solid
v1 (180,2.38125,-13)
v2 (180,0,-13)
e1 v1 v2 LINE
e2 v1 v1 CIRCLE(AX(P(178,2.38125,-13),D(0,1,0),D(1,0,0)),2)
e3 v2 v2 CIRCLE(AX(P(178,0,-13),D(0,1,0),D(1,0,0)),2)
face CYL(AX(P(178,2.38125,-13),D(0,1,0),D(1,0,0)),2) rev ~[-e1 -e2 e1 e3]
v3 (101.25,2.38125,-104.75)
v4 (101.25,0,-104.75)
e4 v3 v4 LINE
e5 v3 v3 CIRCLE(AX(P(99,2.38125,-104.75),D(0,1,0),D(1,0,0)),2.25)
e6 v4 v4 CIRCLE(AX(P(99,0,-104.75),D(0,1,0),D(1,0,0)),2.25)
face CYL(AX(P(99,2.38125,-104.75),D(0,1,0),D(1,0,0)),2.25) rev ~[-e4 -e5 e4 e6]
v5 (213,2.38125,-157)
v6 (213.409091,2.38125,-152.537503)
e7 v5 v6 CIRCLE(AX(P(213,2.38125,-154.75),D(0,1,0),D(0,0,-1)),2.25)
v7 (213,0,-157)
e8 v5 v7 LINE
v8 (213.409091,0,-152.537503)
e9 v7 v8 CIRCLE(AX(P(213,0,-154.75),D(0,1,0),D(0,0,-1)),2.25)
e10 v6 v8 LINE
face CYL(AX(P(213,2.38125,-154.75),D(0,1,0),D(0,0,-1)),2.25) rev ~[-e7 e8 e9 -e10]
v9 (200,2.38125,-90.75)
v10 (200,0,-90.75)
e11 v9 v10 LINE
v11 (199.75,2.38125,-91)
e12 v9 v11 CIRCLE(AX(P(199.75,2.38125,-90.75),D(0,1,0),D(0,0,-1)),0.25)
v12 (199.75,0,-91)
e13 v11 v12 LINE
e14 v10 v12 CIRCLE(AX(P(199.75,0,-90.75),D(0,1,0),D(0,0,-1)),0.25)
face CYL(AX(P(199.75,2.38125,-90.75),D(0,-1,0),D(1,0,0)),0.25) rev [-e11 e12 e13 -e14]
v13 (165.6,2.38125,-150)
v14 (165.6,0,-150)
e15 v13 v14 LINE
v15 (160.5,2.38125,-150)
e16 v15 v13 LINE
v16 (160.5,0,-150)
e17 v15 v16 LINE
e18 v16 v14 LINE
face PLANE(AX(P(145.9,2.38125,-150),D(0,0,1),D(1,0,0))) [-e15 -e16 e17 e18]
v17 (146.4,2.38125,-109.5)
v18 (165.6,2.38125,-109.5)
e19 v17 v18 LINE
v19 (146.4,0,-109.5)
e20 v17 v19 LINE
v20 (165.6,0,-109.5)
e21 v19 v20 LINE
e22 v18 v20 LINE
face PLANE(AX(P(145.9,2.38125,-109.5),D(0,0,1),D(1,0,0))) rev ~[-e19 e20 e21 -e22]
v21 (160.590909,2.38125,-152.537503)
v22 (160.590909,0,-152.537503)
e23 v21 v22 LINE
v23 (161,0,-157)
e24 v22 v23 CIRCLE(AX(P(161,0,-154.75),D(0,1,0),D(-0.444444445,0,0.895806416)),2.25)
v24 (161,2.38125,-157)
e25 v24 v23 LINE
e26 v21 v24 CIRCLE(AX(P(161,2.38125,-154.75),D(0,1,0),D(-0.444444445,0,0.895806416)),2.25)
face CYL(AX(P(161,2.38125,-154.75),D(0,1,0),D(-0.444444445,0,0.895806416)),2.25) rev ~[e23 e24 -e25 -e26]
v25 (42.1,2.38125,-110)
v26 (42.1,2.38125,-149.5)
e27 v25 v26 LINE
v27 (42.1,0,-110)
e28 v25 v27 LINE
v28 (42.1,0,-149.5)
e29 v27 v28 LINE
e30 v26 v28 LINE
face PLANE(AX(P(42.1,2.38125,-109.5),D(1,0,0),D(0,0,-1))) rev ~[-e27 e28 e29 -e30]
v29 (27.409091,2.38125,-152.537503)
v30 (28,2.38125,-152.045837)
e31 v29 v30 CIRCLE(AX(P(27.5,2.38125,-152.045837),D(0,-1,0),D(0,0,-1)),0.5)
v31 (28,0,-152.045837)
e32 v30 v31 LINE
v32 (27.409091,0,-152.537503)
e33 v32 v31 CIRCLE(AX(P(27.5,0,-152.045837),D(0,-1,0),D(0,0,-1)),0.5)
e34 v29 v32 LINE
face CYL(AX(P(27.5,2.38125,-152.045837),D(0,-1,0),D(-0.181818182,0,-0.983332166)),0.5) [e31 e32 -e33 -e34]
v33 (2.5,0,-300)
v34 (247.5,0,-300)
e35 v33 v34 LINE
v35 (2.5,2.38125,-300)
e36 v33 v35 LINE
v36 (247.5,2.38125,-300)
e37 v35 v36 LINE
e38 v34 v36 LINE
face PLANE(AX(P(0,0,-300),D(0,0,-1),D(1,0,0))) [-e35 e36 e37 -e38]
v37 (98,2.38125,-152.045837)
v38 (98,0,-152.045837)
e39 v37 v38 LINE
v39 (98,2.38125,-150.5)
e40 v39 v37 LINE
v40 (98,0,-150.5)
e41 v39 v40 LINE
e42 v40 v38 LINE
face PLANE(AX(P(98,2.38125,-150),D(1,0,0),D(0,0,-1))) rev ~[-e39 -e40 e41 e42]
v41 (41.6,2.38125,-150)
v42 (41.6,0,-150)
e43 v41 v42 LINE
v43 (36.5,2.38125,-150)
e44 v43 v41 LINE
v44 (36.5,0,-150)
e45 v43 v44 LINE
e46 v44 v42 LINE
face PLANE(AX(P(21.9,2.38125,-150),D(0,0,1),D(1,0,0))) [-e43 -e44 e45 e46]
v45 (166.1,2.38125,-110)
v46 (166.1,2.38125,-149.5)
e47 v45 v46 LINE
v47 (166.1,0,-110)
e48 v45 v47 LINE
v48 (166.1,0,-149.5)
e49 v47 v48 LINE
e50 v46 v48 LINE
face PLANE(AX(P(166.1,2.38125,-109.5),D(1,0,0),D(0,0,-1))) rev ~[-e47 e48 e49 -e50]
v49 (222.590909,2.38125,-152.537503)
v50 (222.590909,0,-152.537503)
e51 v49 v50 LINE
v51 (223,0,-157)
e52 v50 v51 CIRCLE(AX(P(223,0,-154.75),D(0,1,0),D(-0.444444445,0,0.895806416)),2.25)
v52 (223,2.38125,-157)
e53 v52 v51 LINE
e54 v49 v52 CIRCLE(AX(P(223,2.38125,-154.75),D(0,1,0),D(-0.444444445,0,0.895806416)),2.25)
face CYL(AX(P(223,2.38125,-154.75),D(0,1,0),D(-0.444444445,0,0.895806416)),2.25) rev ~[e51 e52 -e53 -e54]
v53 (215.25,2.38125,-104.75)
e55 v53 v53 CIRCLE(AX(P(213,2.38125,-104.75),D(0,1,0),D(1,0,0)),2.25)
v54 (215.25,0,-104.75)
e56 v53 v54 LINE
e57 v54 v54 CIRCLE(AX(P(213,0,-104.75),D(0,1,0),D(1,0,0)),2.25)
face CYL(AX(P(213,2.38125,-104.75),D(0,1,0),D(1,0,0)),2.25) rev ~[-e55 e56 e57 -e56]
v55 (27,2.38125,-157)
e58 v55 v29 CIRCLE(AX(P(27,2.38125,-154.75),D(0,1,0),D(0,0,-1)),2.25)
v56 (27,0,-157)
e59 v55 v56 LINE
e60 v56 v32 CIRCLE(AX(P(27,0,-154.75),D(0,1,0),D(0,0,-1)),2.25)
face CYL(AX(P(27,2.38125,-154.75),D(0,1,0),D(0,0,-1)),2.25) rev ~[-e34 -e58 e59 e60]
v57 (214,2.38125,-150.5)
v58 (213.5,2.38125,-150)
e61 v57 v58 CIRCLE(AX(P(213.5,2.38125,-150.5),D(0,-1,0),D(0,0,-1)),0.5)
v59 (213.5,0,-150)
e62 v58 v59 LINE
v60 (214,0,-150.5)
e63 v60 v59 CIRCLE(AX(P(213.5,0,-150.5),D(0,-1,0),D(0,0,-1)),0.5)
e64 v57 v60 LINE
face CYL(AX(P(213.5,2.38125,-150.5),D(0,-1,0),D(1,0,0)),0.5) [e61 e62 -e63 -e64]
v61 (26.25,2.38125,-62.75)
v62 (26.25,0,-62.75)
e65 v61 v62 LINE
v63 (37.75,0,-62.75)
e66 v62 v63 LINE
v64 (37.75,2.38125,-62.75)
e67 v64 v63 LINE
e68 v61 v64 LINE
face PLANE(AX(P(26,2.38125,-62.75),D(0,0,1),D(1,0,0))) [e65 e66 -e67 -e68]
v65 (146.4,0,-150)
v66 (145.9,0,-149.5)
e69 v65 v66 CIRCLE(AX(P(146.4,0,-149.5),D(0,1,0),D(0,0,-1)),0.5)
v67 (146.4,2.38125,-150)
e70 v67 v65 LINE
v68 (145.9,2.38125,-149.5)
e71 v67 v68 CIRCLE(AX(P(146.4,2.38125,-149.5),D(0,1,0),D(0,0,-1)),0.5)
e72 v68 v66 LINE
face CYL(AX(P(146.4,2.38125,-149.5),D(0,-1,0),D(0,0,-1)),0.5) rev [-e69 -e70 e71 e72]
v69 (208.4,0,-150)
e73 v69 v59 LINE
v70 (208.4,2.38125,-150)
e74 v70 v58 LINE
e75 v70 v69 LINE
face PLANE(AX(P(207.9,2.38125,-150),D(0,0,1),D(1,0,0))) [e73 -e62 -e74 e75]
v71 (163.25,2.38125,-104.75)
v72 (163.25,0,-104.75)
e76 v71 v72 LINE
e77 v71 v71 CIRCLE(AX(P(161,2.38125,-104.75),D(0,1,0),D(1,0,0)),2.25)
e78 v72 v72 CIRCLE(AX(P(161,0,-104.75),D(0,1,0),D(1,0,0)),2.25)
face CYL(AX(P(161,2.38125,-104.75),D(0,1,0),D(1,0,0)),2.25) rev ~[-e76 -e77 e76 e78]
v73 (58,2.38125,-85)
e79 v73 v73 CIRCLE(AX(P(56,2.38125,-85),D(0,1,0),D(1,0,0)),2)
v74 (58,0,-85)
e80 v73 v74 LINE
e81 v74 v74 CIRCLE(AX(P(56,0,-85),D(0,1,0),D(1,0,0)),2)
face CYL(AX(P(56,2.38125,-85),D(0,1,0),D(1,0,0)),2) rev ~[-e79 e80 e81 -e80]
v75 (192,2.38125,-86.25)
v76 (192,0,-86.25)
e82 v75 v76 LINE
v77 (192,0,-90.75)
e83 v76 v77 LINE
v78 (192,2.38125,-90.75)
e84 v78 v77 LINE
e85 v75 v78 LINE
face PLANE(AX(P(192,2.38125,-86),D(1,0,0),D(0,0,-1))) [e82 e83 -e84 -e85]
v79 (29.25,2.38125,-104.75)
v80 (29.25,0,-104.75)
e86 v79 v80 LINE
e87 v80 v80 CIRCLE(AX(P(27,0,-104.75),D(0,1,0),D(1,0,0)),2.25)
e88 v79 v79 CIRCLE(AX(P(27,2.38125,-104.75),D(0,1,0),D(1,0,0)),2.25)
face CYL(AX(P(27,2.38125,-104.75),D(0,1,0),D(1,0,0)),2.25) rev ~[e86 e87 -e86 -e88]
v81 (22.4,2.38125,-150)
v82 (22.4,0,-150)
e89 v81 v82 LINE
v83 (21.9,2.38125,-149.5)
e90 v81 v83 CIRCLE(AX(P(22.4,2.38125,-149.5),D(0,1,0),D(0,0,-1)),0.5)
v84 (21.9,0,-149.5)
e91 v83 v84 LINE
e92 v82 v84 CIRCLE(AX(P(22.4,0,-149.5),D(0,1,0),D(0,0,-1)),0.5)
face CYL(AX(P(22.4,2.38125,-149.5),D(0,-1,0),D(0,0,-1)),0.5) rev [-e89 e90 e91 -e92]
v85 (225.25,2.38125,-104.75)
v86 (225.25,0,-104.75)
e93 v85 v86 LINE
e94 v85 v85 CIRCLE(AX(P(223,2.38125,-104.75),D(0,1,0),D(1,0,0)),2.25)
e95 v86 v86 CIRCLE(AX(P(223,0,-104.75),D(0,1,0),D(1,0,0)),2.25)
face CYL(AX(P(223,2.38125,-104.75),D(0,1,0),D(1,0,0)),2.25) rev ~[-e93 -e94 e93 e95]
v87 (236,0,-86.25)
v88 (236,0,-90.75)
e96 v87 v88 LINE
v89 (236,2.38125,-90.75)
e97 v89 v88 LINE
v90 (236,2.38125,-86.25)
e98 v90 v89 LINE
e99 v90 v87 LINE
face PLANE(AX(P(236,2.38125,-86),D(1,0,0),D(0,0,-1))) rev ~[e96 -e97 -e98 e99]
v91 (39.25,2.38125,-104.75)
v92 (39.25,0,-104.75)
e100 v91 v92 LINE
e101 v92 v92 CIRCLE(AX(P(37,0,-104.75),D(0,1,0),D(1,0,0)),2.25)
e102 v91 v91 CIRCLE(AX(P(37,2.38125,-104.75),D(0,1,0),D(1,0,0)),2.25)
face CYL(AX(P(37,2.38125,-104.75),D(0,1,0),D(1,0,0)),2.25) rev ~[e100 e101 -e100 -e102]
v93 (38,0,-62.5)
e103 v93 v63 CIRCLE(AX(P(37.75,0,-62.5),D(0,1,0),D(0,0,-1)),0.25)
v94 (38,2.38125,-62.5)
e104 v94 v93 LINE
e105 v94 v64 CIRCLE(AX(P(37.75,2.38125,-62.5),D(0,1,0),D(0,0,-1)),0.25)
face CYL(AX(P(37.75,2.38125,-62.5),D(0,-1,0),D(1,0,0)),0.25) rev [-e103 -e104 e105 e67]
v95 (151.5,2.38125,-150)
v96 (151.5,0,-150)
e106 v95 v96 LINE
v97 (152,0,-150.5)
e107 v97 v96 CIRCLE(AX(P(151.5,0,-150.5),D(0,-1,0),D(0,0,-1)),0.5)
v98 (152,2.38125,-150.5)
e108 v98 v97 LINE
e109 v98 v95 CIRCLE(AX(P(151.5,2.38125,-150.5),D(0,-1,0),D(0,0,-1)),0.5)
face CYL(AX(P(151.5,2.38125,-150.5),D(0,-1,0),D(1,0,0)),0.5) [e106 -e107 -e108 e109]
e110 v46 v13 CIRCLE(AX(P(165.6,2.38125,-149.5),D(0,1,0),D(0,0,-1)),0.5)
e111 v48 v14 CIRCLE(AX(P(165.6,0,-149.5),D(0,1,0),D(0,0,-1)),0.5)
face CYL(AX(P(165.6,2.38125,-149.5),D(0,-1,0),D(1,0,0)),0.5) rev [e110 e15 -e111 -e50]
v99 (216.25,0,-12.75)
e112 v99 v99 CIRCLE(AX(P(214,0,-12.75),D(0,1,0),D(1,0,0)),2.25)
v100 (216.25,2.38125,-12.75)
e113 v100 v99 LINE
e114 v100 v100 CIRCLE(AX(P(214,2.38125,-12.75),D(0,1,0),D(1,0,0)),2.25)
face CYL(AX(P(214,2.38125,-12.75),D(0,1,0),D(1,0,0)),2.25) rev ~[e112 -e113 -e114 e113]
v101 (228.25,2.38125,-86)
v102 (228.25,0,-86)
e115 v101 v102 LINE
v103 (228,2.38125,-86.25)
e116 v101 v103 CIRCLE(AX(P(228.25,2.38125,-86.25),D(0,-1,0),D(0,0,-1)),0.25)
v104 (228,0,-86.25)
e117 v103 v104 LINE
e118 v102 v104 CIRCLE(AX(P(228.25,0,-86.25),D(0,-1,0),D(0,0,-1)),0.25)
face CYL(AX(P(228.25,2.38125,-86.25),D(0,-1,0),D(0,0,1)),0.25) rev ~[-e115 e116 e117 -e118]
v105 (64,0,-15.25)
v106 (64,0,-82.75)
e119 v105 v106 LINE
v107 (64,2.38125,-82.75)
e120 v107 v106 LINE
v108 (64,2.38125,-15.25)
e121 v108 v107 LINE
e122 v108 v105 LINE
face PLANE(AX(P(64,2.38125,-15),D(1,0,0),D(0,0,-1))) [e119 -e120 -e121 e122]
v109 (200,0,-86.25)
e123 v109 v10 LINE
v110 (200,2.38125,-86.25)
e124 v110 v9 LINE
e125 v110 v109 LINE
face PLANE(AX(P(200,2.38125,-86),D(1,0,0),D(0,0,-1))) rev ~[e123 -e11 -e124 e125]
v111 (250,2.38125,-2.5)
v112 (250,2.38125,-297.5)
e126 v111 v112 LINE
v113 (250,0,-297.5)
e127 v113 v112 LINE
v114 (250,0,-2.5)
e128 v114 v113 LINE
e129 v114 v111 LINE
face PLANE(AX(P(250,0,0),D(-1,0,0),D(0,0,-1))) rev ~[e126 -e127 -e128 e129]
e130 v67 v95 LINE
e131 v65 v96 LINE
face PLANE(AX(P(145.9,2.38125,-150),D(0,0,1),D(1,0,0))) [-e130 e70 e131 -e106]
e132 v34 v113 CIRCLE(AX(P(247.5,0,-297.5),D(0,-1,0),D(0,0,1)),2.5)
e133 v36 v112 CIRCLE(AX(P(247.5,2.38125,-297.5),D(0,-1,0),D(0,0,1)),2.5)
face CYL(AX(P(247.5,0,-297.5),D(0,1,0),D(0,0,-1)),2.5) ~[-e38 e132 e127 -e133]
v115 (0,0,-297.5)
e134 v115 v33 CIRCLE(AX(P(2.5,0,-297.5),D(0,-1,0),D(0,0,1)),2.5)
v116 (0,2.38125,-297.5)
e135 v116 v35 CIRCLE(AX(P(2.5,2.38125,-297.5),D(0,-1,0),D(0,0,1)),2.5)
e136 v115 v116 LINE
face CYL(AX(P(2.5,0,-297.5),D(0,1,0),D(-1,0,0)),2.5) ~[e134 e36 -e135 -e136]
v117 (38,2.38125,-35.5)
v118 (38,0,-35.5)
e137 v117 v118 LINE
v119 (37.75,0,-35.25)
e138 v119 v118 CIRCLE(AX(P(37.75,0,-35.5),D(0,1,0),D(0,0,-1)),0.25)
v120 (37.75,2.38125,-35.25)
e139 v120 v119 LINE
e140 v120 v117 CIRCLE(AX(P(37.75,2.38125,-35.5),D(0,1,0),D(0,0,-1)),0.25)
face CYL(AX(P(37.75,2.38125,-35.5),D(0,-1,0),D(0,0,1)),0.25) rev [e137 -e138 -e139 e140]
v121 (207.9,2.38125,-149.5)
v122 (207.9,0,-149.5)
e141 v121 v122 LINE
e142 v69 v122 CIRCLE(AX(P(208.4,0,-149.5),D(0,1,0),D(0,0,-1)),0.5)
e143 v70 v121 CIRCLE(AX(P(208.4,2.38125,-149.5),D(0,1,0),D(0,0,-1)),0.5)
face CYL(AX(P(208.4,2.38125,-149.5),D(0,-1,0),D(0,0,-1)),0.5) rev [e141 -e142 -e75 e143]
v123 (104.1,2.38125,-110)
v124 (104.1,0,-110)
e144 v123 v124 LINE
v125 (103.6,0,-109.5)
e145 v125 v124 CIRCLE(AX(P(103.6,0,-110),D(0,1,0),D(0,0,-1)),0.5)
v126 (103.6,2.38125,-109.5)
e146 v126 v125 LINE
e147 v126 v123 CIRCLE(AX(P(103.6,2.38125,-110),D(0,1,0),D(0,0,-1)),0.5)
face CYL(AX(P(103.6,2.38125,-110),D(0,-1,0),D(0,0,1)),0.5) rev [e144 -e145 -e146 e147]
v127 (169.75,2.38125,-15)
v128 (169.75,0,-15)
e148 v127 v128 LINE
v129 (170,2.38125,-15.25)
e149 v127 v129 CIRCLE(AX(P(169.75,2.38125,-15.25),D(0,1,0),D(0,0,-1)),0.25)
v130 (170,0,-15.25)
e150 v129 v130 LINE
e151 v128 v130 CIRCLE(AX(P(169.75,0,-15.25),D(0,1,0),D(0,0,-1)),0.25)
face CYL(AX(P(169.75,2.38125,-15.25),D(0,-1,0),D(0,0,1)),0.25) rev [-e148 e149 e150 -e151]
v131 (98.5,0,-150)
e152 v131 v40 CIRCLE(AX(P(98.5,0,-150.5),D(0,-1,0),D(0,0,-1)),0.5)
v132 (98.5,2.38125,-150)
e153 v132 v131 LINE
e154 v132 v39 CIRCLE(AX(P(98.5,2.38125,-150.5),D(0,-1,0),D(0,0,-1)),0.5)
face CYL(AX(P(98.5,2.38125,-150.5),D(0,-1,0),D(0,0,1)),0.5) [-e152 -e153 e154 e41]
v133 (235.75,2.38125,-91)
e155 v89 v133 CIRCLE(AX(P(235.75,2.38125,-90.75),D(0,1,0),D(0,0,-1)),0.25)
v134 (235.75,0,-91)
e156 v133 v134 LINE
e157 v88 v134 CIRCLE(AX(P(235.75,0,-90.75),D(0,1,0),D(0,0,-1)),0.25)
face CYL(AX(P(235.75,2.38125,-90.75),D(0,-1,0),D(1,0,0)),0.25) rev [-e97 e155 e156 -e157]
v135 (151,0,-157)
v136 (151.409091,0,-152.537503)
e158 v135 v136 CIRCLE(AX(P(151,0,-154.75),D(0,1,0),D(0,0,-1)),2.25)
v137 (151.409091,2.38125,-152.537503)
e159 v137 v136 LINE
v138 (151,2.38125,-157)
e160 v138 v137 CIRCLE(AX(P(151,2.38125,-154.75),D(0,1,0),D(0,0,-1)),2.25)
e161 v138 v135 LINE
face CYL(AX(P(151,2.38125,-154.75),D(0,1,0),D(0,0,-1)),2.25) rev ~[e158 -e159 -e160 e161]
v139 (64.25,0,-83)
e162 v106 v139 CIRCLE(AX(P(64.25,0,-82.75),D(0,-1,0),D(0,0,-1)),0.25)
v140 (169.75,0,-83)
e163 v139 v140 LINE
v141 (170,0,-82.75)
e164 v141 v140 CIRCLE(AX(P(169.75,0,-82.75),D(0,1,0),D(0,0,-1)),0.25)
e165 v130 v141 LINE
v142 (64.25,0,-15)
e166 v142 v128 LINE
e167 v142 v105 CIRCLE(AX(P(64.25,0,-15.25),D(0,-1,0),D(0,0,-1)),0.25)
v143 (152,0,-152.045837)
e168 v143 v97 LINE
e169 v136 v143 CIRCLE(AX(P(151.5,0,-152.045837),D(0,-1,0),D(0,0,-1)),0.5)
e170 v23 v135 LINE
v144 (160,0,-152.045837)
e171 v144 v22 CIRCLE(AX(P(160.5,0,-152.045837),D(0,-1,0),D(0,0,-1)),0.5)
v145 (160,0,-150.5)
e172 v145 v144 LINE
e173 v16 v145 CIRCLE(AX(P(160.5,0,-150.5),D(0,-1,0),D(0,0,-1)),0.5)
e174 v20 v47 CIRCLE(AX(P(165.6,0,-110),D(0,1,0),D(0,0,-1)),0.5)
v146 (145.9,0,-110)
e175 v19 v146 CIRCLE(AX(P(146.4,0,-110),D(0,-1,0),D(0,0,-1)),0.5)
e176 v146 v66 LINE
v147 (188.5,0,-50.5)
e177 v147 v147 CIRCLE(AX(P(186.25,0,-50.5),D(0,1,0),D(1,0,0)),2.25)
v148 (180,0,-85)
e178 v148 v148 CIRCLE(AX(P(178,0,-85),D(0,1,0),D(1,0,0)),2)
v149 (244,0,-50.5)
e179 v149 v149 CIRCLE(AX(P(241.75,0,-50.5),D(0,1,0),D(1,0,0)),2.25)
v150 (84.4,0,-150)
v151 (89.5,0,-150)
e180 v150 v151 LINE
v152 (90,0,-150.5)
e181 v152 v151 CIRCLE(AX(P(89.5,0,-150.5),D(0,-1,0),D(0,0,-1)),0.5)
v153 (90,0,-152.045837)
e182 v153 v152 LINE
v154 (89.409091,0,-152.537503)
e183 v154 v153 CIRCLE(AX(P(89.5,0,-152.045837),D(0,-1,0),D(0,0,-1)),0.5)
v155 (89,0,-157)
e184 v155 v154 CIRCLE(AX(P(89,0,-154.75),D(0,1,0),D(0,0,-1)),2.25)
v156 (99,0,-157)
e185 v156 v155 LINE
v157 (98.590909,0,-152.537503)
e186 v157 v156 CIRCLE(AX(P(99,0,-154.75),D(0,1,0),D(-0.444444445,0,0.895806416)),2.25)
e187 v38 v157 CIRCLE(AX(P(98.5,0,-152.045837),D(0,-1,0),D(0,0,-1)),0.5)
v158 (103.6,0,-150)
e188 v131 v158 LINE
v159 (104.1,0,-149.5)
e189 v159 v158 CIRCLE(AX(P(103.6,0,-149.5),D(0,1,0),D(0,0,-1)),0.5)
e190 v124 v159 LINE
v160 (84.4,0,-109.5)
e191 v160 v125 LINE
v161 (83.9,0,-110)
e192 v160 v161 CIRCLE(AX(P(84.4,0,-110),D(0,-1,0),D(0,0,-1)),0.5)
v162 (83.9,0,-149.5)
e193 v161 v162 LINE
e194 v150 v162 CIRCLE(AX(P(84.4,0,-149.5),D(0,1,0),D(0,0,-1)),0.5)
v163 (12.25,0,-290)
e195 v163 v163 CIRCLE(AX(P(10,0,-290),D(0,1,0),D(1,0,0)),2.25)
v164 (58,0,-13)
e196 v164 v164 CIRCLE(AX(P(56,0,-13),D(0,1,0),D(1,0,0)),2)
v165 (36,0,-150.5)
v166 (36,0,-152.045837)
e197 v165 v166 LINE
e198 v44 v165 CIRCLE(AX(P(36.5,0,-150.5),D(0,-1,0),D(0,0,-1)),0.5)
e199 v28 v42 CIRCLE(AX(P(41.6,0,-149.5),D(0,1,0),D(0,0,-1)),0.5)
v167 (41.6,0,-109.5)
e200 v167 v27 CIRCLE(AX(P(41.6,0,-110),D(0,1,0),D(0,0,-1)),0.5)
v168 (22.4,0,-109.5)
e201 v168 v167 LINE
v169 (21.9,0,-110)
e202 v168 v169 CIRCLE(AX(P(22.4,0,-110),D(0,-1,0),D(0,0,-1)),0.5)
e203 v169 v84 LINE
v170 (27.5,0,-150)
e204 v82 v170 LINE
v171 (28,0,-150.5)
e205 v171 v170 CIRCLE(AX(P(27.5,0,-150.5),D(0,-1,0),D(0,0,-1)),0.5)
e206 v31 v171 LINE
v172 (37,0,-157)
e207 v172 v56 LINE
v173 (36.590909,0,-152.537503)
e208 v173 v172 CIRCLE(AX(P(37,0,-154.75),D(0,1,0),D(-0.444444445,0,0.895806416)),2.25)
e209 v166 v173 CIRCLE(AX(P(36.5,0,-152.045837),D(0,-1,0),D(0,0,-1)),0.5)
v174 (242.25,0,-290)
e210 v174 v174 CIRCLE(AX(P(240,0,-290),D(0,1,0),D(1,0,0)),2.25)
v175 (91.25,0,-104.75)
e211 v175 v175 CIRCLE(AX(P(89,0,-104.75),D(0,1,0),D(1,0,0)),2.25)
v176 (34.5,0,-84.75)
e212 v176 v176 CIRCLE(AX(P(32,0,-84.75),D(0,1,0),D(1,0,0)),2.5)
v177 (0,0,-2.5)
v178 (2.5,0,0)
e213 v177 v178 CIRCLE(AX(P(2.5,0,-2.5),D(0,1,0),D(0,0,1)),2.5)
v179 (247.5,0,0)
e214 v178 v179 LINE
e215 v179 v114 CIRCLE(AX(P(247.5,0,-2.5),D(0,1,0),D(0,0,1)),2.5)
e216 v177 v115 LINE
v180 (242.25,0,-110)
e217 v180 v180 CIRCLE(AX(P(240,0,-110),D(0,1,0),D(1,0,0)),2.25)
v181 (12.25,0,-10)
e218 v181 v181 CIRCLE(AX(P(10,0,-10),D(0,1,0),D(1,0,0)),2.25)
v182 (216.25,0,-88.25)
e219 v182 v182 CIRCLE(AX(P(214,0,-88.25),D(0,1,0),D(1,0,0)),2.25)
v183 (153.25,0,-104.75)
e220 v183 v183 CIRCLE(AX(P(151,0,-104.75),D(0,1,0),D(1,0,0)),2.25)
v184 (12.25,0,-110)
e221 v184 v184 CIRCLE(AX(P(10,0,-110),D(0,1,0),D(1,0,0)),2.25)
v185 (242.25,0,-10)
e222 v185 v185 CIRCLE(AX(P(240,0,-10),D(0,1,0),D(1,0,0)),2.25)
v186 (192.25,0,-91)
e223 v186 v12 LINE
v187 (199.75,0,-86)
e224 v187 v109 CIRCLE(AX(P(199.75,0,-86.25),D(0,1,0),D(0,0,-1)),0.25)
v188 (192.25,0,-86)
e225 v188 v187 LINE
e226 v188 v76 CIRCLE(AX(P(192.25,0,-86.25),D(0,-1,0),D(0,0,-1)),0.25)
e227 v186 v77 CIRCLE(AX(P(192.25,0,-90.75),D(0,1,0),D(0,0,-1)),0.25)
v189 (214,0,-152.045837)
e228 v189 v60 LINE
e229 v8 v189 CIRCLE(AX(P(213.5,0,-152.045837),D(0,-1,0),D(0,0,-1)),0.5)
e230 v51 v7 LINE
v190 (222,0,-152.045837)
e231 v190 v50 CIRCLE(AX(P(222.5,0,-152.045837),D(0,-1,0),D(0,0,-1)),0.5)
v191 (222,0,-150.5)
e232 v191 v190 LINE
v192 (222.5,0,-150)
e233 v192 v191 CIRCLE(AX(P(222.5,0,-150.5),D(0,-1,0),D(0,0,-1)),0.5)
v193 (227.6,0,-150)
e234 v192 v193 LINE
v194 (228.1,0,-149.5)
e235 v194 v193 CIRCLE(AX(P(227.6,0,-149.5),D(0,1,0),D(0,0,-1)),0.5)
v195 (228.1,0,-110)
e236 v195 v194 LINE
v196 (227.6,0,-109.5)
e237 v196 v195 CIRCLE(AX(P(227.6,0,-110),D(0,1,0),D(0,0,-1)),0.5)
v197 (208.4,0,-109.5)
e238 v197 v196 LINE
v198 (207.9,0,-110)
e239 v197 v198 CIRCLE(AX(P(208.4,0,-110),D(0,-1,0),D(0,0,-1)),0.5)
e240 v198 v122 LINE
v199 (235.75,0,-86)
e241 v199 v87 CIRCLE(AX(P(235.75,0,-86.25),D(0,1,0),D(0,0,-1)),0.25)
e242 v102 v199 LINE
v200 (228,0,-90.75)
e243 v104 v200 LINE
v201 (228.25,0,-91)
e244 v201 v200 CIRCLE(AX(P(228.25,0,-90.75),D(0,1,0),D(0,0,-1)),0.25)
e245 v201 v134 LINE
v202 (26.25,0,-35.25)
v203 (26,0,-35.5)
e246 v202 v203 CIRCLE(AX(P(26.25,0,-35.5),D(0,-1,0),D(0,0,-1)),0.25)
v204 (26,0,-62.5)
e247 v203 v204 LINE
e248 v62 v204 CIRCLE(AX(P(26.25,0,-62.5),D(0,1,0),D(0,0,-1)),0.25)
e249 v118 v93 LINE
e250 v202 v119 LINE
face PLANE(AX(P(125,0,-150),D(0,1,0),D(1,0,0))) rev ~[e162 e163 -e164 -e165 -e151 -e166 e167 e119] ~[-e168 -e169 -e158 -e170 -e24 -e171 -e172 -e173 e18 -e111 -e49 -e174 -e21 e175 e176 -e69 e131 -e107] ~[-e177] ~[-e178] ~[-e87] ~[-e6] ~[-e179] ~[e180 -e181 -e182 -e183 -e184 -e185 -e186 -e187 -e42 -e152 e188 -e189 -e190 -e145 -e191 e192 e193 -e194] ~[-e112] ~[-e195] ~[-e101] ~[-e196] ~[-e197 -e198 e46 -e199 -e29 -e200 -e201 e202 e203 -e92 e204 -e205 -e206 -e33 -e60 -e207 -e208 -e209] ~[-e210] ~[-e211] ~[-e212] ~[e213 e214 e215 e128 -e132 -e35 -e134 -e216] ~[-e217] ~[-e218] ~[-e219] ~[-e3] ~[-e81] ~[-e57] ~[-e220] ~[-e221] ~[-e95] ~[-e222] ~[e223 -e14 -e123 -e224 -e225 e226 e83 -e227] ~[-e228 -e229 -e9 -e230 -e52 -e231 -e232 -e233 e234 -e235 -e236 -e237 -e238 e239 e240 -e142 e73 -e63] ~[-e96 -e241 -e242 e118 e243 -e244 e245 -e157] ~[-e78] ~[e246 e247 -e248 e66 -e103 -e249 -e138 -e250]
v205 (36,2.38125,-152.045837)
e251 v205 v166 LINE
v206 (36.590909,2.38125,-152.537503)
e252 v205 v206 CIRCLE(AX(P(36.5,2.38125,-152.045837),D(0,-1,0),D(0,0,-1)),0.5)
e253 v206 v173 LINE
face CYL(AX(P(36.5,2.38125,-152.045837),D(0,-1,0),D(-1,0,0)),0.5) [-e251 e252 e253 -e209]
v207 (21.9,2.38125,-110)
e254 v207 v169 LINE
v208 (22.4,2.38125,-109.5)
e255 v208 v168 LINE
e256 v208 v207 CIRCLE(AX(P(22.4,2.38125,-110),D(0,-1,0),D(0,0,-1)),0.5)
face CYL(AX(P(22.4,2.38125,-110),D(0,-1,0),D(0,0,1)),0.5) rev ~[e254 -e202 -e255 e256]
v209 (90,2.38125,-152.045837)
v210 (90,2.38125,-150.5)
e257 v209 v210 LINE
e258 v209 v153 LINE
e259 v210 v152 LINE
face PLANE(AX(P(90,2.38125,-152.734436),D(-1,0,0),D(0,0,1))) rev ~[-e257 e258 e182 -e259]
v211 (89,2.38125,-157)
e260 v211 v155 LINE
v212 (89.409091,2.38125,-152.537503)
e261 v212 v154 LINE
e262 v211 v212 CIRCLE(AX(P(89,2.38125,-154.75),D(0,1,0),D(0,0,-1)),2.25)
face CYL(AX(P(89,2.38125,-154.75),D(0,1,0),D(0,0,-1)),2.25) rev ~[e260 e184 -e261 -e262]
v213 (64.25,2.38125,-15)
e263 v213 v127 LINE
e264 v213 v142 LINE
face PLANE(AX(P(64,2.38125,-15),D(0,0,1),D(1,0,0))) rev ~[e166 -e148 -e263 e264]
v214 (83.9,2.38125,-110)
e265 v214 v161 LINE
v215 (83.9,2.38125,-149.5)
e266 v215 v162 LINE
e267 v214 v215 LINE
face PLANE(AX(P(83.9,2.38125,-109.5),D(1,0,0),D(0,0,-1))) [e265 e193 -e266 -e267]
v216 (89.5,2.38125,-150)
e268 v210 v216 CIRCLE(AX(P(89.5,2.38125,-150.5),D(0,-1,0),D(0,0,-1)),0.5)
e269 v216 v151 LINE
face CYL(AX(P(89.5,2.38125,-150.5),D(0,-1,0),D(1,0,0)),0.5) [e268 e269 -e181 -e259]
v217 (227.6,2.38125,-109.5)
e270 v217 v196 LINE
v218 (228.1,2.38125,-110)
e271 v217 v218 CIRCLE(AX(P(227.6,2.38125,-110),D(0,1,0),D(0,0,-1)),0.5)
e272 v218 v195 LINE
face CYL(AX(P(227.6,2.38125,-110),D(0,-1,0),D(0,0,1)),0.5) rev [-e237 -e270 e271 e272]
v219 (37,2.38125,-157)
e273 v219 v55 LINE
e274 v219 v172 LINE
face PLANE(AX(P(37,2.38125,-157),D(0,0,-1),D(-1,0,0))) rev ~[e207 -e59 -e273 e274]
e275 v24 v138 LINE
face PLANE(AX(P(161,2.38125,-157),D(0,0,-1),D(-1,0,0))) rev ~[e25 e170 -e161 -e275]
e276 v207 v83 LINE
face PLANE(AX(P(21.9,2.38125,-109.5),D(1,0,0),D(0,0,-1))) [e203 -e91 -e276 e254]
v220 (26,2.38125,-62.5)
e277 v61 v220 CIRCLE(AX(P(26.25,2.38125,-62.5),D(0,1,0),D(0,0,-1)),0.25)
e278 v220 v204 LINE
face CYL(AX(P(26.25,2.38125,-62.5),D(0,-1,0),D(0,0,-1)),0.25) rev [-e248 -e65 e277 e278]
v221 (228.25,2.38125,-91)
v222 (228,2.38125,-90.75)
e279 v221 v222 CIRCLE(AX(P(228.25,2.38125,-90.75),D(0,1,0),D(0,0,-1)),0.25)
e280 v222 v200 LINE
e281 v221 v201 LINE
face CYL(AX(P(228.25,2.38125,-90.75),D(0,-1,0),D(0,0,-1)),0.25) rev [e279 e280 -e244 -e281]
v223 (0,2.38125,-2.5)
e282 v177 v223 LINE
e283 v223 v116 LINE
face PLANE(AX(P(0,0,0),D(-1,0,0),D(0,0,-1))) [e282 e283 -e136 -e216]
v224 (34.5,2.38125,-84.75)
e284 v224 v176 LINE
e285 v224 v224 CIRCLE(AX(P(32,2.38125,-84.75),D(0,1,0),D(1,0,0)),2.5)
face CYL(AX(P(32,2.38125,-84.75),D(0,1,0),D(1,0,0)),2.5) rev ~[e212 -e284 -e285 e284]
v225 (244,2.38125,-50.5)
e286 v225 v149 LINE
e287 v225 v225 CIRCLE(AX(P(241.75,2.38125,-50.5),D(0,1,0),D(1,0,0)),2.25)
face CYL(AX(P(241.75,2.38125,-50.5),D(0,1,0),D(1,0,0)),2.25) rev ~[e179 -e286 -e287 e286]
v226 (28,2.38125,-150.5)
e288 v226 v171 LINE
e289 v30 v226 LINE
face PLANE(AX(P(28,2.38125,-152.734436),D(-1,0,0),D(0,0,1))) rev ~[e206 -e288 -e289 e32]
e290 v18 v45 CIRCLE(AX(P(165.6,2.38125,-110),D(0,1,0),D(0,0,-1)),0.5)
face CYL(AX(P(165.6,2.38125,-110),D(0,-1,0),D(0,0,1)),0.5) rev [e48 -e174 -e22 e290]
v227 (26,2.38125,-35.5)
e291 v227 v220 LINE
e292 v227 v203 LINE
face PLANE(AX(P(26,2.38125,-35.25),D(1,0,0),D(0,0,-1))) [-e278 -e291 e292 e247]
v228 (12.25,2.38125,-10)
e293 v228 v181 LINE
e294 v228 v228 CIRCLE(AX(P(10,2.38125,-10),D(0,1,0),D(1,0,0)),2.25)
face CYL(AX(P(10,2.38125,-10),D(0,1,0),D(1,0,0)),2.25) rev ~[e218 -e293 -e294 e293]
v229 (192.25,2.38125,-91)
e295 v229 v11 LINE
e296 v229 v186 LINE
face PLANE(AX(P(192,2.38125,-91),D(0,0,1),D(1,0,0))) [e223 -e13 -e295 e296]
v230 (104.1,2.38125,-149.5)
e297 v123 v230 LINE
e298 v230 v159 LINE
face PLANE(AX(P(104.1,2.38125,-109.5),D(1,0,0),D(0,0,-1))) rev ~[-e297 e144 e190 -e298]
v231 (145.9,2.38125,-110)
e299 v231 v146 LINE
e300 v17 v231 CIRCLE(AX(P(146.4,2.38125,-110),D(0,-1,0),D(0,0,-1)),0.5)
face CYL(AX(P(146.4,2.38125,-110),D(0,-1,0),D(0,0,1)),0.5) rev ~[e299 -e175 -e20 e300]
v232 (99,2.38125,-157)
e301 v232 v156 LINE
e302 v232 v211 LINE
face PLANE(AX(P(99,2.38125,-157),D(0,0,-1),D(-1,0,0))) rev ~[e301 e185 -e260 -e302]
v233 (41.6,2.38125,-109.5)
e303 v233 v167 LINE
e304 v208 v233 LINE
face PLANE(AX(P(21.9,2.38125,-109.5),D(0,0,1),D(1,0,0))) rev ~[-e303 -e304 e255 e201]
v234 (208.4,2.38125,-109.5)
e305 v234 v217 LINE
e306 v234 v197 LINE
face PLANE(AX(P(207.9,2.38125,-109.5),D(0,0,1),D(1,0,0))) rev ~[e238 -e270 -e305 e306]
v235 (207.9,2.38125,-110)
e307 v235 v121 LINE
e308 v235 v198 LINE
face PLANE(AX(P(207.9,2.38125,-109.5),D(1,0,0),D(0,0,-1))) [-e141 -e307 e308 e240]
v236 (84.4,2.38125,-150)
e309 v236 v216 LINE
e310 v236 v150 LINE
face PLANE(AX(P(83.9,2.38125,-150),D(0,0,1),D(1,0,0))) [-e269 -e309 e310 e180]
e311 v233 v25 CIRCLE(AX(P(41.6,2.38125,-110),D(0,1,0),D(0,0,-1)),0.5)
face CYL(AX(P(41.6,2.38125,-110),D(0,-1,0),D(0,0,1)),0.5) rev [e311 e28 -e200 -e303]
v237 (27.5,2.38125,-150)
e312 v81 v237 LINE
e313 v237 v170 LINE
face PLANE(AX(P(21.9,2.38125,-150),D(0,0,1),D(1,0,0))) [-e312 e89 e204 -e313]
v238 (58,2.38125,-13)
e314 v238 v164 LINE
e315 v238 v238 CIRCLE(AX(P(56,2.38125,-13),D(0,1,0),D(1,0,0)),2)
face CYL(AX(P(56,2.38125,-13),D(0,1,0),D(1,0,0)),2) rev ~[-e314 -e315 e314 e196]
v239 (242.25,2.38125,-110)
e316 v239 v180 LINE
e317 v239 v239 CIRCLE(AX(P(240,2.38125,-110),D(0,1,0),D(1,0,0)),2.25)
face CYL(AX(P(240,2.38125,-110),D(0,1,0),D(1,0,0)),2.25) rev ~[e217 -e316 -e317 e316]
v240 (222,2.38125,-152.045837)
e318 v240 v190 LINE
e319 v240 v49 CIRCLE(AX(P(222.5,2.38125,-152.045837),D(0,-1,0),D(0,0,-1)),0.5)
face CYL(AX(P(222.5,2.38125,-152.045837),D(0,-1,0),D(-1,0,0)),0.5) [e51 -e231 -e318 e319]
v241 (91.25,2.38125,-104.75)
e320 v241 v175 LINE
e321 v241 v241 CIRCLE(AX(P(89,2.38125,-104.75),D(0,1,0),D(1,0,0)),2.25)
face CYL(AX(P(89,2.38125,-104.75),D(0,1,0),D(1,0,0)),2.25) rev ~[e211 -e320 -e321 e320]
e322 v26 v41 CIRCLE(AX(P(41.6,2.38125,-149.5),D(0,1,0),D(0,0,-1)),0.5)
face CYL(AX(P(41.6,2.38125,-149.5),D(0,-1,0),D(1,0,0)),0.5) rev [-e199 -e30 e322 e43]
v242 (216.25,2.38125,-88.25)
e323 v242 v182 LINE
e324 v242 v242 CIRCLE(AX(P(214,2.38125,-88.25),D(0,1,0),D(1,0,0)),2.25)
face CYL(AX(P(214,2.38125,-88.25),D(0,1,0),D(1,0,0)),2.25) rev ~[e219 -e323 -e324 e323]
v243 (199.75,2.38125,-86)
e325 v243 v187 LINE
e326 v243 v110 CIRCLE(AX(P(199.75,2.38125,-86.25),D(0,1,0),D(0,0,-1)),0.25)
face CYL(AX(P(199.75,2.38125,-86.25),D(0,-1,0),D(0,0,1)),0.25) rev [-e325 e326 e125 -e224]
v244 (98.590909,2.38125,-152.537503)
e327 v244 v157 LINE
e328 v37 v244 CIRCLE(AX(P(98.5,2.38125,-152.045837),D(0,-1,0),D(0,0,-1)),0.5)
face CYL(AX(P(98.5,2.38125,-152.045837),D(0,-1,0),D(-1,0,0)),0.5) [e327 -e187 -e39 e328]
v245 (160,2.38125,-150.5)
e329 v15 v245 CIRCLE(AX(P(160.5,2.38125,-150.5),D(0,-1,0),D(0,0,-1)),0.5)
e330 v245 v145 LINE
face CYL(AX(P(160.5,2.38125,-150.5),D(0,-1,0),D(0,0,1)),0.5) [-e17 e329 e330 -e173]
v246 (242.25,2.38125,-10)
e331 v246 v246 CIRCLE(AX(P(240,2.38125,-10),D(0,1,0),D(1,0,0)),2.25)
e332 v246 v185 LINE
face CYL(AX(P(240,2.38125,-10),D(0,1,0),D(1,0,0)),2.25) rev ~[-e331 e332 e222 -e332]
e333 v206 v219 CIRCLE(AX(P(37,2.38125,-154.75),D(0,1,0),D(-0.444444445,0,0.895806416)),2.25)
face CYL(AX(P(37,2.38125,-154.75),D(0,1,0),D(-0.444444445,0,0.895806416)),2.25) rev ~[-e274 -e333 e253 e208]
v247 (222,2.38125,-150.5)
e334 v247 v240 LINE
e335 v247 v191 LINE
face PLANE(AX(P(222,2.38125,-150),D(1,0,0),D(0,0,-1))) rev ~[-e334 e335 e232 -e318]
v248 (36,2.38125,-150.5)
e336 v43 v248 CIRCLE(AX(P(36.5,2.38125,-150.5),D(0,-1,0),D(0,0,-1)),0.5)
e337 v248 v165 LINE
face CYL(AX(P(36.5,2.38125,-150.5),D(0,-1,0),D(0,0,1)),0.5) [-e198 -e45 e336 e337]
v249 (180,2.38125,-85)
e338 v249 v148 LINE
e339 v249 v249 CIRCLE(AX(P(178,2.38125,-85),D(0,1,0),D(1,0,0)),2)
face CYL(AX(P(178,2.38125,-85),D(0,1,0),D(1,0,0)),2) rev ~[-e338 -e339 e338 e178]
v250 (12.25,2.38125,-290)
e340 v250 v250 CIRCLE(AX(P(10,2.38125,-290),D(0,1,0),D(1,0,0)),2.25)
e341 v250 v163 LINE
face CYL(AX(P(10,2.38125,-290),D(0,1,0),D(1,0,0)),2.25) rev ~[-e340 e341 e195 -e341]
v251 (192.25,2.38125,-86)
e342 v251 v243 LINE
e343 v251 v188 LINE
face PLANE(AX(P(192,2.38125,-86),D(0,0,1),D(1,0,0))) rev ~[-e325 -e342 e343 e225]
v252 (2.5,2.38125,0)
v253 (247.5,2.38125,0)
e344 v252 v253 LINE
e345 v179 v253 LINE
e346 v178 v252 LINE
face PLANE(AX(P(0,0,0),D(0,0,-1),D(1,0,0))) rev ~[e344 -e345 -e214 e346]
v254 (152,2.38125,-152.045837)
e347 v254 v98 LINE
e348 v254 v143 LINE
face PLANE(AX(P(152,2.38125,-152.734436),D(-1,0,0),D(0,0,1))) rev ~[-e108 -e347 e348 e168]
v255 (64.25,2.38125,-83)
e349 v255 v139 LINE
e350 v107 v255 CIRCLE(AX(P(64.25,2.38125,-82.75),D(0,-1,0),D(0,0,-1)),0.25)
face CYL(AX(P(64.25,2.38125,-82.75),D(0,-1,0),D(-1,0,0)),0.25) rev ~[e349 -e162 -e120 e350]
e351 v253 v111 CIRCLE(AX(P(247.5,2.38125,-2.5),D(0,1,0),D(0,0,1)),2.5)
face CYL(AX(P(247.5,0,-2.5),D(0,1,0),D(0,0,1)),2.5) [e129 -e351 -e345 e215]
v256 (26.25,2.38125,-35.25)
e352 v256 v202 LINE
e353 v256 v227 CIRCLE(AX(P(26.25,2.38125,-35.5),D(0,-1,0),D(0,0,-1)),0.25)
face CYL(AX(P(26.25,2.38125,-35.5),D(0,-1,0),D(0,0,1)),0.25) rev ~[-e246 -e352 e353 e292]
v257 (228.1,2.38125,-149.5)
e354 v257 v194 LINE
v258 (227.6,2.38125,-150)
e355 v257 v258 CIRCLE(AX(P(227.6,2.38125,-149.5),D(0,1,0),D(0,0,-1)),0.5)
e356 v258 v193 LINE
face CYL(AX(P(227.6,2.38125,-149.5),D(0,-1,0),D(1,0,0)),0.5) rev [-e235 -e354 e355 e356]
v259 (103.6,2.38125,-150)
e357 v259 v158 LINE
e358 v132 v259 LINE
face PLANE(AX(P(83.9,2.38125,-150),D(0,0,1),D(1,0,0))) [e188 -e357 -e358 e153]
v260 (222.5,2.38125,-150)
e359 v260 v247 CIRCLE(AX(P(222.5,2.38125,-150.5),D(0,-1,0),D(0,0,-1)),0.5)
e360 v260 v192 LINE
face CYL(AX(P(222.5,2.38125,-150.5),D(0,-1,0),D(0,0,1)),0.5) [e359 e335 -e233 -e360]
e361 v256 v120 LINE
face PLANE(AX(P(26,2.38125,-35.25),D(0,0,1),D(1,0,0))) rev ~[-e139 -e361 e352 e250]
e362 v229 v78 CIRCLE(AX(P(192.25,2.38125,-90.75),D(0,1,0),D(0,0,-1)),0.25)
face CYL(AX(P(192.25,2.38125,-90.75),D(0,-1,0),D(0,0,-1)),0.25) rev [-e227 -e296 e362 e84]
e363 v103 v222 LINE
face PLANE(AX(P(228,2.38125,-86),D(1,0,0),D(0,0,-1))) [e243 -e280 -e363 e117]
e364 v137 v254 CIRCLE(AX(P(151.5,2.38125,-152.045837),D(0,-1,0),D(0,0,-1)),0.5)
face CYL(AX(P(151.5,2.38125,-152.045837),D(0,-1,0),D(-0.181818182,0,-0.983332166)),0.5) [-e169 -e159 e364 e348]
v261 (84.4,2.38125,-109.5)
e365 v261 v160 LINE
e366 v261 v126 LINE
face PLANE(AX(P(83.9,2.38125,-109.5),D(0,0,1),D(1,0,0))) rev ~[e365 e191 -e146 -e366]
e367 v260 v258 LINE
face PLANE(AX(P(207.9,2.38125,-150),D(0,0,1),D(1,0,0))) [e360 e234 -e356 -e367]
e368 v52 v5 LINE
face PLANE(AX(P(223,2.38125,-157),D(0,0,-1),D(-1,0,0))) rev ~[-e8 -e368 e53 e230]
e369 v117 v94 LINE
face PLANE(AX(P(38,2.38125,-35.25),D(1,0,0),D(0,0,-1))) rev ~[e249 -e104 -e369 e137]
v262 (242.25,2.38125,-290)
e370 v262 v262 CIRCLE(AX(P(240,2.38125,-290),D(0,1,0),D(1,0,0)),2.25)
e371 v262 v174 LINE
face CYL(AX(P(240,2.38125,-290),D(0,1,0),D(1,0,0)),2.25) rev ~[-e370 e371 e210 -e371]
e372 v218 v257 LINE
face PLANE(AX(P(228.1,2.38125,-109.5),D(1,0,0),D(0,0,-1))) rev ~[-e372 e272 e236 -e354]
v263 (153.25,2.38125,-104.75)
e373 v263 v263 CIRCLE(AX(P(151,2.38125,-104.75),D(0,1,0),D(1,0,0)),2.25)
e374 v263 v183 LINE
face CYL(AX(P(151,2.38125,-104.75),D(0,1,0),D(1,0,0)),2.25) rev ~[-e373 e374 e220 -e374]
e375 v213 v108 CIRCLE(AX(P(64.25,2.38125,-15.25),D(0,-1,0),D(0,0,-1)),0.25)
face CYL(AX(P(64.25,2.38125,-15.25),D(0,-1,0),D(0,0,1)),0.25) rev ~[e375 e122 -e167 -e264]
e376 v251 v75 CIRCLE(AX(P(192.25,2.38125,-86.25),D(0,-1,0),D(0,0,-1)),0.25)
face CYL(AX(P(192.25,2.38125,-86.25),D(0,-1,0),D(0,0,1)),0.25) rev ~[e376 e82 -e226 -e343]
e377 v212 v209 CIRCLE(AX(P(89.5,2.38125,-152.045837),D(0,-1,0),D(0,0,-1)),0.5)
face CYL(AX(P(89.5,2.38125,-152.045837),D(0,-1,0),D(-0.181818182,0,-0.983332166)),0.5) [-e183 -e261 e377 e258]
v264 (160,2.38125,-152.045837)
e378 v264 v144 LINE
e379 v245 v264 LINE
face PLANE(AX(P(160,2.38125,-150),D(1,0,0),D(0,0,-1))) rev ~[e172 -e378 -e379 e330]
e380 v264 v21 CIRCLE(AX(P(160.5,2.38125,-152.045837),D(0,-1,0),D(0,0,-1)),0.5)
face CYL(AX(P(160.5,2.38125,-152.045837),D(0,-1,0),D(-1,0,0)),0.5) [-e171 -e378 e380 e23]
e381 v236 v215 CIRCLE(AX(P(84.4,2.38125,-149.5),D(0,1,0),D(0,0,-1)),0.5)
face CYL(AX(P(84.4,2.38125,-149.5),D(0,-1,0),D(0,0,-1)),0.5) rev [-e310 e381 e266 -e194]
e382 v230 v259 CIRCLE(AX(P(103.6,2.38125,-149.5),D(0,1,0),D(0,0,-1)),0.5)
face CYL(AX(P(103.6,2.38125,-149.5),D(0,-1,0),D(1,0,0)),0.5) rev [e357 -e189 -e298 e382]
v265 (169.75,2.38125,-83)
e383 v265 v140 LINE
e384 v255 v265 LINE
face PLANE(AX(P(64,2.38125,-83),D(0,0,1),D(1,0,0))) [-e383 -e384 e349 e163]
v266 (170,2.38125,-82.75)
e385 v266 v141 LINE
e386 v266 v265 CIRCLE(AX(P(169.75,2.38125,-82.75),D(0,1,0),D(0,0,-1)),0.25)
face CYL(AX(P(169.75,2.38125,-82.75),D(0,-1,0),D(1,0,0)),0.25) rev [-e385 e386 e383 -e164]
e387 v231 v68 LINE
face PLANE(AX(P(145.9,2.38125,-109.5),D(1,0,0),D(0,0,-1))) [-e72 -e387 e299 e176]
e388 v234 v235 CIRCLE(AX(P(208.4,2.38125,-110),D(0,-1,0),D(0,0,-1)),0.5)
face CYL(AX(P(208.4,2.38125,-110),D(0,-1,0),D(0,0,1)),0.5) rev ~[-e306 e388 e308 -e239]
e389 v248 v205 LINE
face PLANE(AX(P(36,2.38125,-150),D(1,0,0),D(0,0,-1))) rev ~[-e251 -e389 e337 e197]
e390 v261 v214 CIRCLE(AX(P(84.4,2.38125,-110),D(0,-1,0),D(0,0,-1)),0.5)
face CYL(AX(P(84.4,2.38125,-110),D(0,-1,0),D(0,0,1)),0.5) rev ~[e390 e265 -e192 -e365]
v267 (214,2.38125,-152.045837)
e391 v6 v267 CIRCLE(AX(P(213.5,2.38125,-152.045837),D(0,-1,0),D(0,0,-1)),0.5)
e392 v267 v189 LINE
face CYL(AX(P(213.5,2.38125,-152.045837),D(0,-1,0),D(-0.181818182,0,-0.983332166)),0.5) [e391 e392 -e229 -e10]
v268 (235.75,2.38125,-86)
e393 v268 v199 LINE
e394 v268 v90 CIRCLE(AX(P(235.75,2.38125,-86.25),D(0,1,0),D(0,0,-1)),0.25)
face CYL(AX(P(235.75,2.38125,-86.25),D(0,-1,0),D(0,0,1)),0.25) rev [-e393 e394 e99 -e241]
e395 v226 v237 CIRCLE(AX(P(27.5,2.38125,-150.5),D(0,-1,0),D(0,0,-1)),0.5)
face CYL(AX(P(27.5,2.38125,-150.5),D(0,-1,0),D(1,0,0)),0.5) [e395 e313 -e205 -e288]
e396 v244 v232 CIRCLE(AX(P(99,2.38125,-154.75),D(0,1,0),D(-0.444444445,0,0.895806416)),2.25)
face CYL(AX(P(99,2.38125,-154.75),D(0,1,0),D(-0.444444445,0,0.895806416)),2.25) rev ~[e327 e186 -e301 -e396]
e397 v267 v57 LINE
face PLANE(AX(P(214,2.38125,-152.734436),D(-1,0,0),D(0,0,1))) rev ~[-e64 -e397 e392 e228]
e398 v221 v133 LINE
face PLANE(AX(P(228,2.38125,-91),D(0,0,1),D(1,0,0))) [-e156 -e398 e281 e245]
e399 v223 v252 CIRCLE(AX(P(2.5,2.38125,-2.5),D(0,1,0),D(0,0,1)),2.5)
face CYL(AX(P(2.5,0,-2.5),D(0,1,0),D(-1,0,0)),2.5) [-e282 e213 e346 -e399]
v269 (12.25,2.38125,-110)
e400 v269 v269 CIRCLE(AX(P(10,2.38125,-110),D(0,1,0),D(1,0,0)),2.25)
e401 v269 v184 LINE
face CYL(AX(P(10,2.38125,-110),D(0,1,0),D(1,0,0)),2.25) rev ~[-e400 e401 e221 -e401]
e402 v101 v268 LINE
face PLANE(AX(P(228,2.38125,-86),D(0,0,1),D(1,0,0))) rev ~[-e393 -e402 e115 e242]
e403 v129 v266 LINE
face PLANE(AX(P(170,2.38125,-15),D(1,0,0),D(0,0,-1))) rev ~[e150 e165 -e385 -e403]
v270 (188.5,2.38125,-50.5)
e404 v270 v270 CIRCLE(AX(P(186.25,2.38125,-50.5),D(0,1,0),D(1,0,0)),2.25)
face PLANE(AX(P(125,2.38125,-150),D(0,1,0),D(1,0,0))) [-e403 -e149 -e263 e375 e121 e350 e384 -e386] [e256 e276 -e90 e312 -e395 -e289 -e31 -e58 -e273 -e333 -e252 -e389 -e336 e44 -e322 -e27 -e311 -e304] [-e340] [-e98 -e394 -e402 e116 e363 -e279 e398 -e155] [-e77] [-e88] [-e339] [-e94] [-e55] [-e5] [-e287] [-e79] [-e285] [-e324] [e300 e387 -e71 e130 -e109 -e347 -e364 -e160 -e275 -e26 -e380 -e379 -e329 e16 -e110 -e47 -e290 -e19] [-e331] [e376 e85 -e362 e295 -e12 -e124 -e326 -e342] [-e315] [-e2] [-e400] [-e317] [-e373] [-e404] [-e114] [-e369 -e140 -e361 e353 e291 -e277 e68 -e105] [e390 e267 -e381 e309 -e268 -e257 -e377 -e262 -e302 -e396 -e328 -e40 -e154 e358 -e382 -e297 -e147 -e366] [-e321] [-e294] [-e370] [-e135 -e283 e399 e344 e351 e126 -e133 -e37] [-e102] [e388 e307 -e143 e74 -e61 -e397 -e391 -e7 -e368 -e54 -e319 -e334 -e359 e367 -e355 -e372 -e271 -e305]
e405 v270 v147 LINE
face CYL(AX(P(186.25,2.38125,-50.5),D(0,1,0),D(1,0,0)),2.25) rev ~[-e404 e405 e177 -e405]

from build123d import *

# Parameters (mm, degrees)
SKETCH1_W              = 250
SKETCH1_H              = 300
BOSS_EXTRUDE1_DEPTH    = 2.38125
SKETCH2_W              = 20.2
SKETCH2_H              = 40.5
CUT_EXTRUDE1_DEPTH     = 3.38125
SKETCH3_R              = 2.25
CUT_EXTRUDE2_DEPTH     = 3.38125
FILLET1_R              = 0.5
LPATTERN1_COUNT        = 4
LPATTERN1_PITCH        = 62
FILLET1_OF_LPATTERN1_R = 0.5
SKETCH4_W              = 106
SKETCH4_H              = 68
CUT_EXTRUDE3_DEPTH     = 3.38125
SKETCH5_W              = 8
SKETCH5_H              = 5
SKETCH5_W_2            = 12
SKETCH5_H_2            = 27.5
CUT_EXTRUDE4_DEPTH     = 3.38125
FILLET2_R              = 0.25
SKETCH6_R              = 2
CUT_EXTRUDE5_DEPTH     = 3.38125
SKETCH7_R              = 2.25
CUT_EXTRUDE6_DEPTH     = 3.38125
FILLET3_R              = 2.5
CUT_EXTRUDE7_REACH     = 4.381
SKETCH8_R              = 2.25
CUT_EXTRUDE8_REACH     = 4.381
SKETCH9_R              = 2.5


with BuildPart() as part:
    # Sketch1 → Boss-Extrude1 (new body)
    with BuildSketch(Plane(origin=(0, 0, 0), x_dir=(1, 0, 0), z_dir=(0, 1, 0))):
        with Locations((125, 150)):
            Rectangle(SKETCH1_W, SKETCH1_H)
    extrude(amount=BOSS_EXTRUDE1_DEPTH)

    # Sketch2 → Cut-Extrude1 (cut, through all)
    with BuildSketch(Plane(origin=(0, 2.38125, 0), x_dir=(1, 0, 0), z_dir=(0, 1, 0))):
        with Locations((32, 129.75)):
            Rectangle(SKETCH2_W, SKETCH2_H)
    cut_extrude1 = extrude(amount=-CUT_EXTRUDE1_DEPTH, mode=Mode.SUBTRACT)

    # Sketch3 → Cut-Extrude2 (cut, through all)
    with BuildSketch(Plane(origin=(0, 2.38125, 0), x_dir=(1, 0, 0), z_dir=(0, 1, 0))):
        with Locations((37, 104.75)):
            Circle(SKETCH3_R)
        with Locations((27, 104.75)):
            Circle(SKETCH3_R)
        with BuildLine():
            Line((28, 157), (27, 157))
            ThreePointArc((27, 157), (24.80939278, 154.236443763), (28, 152.734435563))
            Line((28, 152.734435563), (28, 150))
            Line((28, 150), (36, 150))
            Line((36, 150), (36, 152.734435563))
            ThreePointArc((36, 152.734435563), (39.19060722, 154.236443763), (37, 157))
            Line((37, 157), (36, 157))
            Line((36, 157), (28, 157))
        make_face()
    cut_extrude2 = extrude(amount=-CUT_EXTRUDE2_DEPTH, mode=Mode.SUBTRACT)

    # Fillet1
    fillet1_edges = [part.edges().sort_by_distance(p)[0] for p in [
        (21.9, 1.190625, -109.5),
        (21.9, 1.190625, -150),
        (42.1, 1.190625, -150),
        (42.1, 1.190625, -109.5),
        (36, 1.190625, -152.734435563),
        (36, 1.190625, -150),
        (28, 1.190625, -150),
        (28, 1.190625, -152.734435563),
    ]]
    fillet(fillet1_edges, radius=FILLET1_R)

    # LPattern1: Cut-Extrude1, Cut-Extrude2 ×4
    with Locations(*[(i * LPATTERN1_PITCH, 0, 0) for i in range(1, LPATTERN1_COUNT)]):
        add(cut_extrude1, mode=Mode.SUBTRACT)
        add(cut_extrude2, mode=Mode.SUBTRACT)

    # Fillet1 of LPattern1
    fillet1_of_lpattern1_edges = [part.edges().sort_by_distance(p)[0] for p in [
        (83.9, 1.190625, -109.5),
        (83.9, 1.190625, -150),
        (104.1, 1.190625, -150),
        (104.1, 1.190625, -109.5),
        (98, 1.190625, -152.734435563),
        (98, 1.190625, -150),
        (90, 1.190625, -150),
        (90, 1.190625, -152.734435563),
        (145.9, 1.190625, -109.5),
        (145.9, 1.190625, -150),
        (166.1, 1.190625, -150),
        (166.1, 1.190625, -109.5),
        (160, 1.190625, -152.734435563),
        (160, 1.190625, -150),
        (152, 1.190625, -150),
        (152, 1.190625, -152.734435563),
        (207.9, 1.190625, -109.5),
        (207.9, 1.190625, -150),
        (228.1, 1.190625, -150),
        (228.1, 1.190625, -109.5),
        (222, 1.190625, -152.734435563),
        (222, 1.190625, -150),
        (214, 1.190625, -150),
        (214, 1.190625, -152.734435563),
    ]]
    fillet(fillet1_of_lpattern1_edges, radius=FILLET1_OF_LPATTERN1_R)

    # Sketch4 → Cut-Extrude3 (cut, through all)
    with BuildSketch(Plane(origin=(0, 2.38125, 0), x_dir=(1, 0, 0), z_dir=(0, 1, 0))):
        with Locations((117, 49)):
            Rectangle(SKETCH4_W, SKETCH4_H)
    extrude(amount=-CUT_EXTRUDE3_DEPTH, mode=Mode.SUBTRACT)

    # Sketch5 → Cut-Extrude4 (cut, through all)
    with BuildSketch(Plane(origin=(0, 2.38125, 0), x_dir=(1, 0, 0), z_dir=(0, 1, 0))):
        with Locations((196, 88.5)):
            Rectangle(SKETCH5_W, SKETCH5_H)
        with Locations((232, 88.5)):
            Rectangle(SKETCH5_W, SKETCH5_H)
        with Locations((32, 49)):
            Rectangle(SKETCH5_W_2, SKETCH5_H_2)
    extrude(amount=-CUT_EXTRUDE4_DEPTH, mode=Mode.SUBTRACT)

    # Fillet2
    fillet2_edges = [part.edges().sort_by_distance(p)[0] for p in [
        (64, 1.190625, -15),
        (64, 1.190625, -83),
        (170, 1.190625, -83),
        (170, 1.190625, -15),
        (26, 1.190625, -35.25),
        (26, 1.190625, -62.75),
        (38, 1.190625, -62.75),
        (38, 1.190625, -35.25),
        (228, 1.190625, -86),
        (228, 1.190625, -91),
        (236, 1.190625, -91),
        (236, 1.190625, -86),
        (192, 1.190625, -86),
        (192, 1.190625, -91),
        (200, 1.190625, -91),
        (200, 1.190625, -86),
    ]]
    fillet(fillet2_edges, radius=FILLET2_R)

    # Sketch6 → Cut-Extrude5 (cut, through all)
    with BuildSketch(Plane(origin=(0, 2.38125, 0), x_dir=(1, 0, 0), z_dir=(0, 1, 0))):
        with Locations((56, 85)):
            Circle(SKETCH6_R)
        with Locations((178, 85)):
            Circle(SKETCH6_R)
        with Locations((178, 13)):
            Circle(SKETCH6_R)
        with Locations((56, 13)):
            Circle(SKETCH6_R)
    extrude(amount=-CUT_EXTRUDE5_DEPTH, mode=Mode.SUBTRACT)

    # Sketch7 → Cut-Extrude6 (cut, through all)
    with BuildSketch(Plane(origin=(0, 2.38125, 0), x_dir=(1, 0, 0), z_dir=(0, 1, 0))):
        with Locations((10, 290)):
            Circle(SKETCH7_R)
        with Locations((240, 290)):
            Circle(SKETCH7_R)
        with Locations((240, 110)):
            Circle(SKETCH7_R)
        with Locations((240, 10)):
            Circle(SKETCH7_R)
        with Locations((10, 10)):
            Circle(SKETCH7_R)
        with Locations((10, 110)):
            Circle(SKETCH7_R)
    extrude(amount=-CUT_EXTRUDE6_DEPTH, mode=Mode.SUBTRACT)

    # Fillet3
    fillet3_edges = [part.edges().sort_by_distance(p)[0] for p in [
        (0, 1.190625, -300),
        (250, 1.190625, -300),
        (250, 1.190625, 0),
        (0, 1.190625, 0),
    ]]
    fillet(fillet3_edges, radius=FILLET3_R)

    # Sketch8 → Cut-Extrude7 (cut, up to next)
    with BuildSketch(Plane(origin=(0, 2.38125, 0), x_dir=(1, 0, 0), z_dir=(0, 1, 0)), mode=Mode.PRIVATE) as cut_extrude7_sk1:
        with Locations((214, 88.25)):
            Circle(SKETCH8_R)
    cut_extrude7_tool1 = extrude(cut_extrude7_sk1.sketch, amount=-CUT_EXTRUDE7_REACH, mode=Mode.PRIVATE) & part.part
    add(cut_extrude7_tool1.solids().sort_by_distance((214, 2.38125, -88.25))[0], mode=Mode.SUBTRACT)
    # Sketch8 → Cut-Extrude7 (cut, up to next)
    with BuildSketch(Plane(origin=(0, 2.38125, 0), x_dir=(1, 0, 0), z_dir=(0, 1, 0)), mode=Mode.PRIVATE) as cut_extrude7_sk2:
        with Locations((241.75, 50.5)):
            Circle(SKETCH8_R)
    cut_extrude7_tool2 = extrude(cut_extrude7_sk2.sketch, amount=-CUT_EXTRUDE7_REACH, mode=Mode.PRIVATE) & part.part
    add(cut_extrude7_tool2.solids().sort_by_distance((241.75, 2.38125, -50.5))[0], mode=Mode.SUBTRACT)
    # Sketch8 → Cut-Extrude7 (cut, up to next)
    with BuildSketch(Plane(origin=(0, 2.38125, 0), x_dir=(1, 0, 0), z_dir=(0, 1, 0)), mode=Mode.PRIVATE) as cut_extrude7_sk3:
        with Locations((214, 12.75)):
            Circle(SKETCH8_R)
    cut_extrude7_tool3 = extrude(cut_extrude7_sk3.sketch, amount=-CUT_EXTRUDE7_REACH, mode=Mode.PRIVATE) & part.part
    add(cut_extrude7_tool3.solids().sort_by_distance((214, 2.38125, -12.75))[0], mode=Mode.SUBTRACT)
    # Sketch8 → Cut-Extrude7 (cut, up to next)
    with BuildSketch(Plane(origin=(0, 2.38125, 0), x_dir=(1, 0, 0), z_dir=(0, 1, 0)), mode=Mode.PRIVATE) as cut_extrude7_sk4:
        with Locations((186.25, 50.5)):
            Circle(SKETCH8_R)
    cut_extrude7_tool4 = extrude(cut_extrude7_sk4.sketch, amount=-CUT_EXTRUDE7_REACH, mode=Mode.PRIVATE) & part.part
    add(cut_extrude7_tool4.solids().sort_by_distance((186.25, 2.38125, -50.5))[0], mode=Mode.SUBTRACT)

    # Sketch9 → Cut-Extrude8 (cut, up to next)
    with BuildSketch(Plane(origin=(0, 2.38125, 0), x_dir=(1, 0, 0), z_dir=(0, 1, 0)), mode=Mode.PRIVATE) as cut_extrude8_sk1:
        with Locations((32, 84.75)):
            Circle(SKETCH9_R)
    cut_extrude8_tool1 = extrude(cut_extrude8_sk1.sketch, amount=-CUT_EXTRUDE8_REACH, mode=Mode.PRIVATE) & part.part
    add(cut_extrude8_tool1.solids().sort_by_distance((32, 2.38125, -84.75))[0], mode=Mode.SUBTRACT)


solid = part.part
